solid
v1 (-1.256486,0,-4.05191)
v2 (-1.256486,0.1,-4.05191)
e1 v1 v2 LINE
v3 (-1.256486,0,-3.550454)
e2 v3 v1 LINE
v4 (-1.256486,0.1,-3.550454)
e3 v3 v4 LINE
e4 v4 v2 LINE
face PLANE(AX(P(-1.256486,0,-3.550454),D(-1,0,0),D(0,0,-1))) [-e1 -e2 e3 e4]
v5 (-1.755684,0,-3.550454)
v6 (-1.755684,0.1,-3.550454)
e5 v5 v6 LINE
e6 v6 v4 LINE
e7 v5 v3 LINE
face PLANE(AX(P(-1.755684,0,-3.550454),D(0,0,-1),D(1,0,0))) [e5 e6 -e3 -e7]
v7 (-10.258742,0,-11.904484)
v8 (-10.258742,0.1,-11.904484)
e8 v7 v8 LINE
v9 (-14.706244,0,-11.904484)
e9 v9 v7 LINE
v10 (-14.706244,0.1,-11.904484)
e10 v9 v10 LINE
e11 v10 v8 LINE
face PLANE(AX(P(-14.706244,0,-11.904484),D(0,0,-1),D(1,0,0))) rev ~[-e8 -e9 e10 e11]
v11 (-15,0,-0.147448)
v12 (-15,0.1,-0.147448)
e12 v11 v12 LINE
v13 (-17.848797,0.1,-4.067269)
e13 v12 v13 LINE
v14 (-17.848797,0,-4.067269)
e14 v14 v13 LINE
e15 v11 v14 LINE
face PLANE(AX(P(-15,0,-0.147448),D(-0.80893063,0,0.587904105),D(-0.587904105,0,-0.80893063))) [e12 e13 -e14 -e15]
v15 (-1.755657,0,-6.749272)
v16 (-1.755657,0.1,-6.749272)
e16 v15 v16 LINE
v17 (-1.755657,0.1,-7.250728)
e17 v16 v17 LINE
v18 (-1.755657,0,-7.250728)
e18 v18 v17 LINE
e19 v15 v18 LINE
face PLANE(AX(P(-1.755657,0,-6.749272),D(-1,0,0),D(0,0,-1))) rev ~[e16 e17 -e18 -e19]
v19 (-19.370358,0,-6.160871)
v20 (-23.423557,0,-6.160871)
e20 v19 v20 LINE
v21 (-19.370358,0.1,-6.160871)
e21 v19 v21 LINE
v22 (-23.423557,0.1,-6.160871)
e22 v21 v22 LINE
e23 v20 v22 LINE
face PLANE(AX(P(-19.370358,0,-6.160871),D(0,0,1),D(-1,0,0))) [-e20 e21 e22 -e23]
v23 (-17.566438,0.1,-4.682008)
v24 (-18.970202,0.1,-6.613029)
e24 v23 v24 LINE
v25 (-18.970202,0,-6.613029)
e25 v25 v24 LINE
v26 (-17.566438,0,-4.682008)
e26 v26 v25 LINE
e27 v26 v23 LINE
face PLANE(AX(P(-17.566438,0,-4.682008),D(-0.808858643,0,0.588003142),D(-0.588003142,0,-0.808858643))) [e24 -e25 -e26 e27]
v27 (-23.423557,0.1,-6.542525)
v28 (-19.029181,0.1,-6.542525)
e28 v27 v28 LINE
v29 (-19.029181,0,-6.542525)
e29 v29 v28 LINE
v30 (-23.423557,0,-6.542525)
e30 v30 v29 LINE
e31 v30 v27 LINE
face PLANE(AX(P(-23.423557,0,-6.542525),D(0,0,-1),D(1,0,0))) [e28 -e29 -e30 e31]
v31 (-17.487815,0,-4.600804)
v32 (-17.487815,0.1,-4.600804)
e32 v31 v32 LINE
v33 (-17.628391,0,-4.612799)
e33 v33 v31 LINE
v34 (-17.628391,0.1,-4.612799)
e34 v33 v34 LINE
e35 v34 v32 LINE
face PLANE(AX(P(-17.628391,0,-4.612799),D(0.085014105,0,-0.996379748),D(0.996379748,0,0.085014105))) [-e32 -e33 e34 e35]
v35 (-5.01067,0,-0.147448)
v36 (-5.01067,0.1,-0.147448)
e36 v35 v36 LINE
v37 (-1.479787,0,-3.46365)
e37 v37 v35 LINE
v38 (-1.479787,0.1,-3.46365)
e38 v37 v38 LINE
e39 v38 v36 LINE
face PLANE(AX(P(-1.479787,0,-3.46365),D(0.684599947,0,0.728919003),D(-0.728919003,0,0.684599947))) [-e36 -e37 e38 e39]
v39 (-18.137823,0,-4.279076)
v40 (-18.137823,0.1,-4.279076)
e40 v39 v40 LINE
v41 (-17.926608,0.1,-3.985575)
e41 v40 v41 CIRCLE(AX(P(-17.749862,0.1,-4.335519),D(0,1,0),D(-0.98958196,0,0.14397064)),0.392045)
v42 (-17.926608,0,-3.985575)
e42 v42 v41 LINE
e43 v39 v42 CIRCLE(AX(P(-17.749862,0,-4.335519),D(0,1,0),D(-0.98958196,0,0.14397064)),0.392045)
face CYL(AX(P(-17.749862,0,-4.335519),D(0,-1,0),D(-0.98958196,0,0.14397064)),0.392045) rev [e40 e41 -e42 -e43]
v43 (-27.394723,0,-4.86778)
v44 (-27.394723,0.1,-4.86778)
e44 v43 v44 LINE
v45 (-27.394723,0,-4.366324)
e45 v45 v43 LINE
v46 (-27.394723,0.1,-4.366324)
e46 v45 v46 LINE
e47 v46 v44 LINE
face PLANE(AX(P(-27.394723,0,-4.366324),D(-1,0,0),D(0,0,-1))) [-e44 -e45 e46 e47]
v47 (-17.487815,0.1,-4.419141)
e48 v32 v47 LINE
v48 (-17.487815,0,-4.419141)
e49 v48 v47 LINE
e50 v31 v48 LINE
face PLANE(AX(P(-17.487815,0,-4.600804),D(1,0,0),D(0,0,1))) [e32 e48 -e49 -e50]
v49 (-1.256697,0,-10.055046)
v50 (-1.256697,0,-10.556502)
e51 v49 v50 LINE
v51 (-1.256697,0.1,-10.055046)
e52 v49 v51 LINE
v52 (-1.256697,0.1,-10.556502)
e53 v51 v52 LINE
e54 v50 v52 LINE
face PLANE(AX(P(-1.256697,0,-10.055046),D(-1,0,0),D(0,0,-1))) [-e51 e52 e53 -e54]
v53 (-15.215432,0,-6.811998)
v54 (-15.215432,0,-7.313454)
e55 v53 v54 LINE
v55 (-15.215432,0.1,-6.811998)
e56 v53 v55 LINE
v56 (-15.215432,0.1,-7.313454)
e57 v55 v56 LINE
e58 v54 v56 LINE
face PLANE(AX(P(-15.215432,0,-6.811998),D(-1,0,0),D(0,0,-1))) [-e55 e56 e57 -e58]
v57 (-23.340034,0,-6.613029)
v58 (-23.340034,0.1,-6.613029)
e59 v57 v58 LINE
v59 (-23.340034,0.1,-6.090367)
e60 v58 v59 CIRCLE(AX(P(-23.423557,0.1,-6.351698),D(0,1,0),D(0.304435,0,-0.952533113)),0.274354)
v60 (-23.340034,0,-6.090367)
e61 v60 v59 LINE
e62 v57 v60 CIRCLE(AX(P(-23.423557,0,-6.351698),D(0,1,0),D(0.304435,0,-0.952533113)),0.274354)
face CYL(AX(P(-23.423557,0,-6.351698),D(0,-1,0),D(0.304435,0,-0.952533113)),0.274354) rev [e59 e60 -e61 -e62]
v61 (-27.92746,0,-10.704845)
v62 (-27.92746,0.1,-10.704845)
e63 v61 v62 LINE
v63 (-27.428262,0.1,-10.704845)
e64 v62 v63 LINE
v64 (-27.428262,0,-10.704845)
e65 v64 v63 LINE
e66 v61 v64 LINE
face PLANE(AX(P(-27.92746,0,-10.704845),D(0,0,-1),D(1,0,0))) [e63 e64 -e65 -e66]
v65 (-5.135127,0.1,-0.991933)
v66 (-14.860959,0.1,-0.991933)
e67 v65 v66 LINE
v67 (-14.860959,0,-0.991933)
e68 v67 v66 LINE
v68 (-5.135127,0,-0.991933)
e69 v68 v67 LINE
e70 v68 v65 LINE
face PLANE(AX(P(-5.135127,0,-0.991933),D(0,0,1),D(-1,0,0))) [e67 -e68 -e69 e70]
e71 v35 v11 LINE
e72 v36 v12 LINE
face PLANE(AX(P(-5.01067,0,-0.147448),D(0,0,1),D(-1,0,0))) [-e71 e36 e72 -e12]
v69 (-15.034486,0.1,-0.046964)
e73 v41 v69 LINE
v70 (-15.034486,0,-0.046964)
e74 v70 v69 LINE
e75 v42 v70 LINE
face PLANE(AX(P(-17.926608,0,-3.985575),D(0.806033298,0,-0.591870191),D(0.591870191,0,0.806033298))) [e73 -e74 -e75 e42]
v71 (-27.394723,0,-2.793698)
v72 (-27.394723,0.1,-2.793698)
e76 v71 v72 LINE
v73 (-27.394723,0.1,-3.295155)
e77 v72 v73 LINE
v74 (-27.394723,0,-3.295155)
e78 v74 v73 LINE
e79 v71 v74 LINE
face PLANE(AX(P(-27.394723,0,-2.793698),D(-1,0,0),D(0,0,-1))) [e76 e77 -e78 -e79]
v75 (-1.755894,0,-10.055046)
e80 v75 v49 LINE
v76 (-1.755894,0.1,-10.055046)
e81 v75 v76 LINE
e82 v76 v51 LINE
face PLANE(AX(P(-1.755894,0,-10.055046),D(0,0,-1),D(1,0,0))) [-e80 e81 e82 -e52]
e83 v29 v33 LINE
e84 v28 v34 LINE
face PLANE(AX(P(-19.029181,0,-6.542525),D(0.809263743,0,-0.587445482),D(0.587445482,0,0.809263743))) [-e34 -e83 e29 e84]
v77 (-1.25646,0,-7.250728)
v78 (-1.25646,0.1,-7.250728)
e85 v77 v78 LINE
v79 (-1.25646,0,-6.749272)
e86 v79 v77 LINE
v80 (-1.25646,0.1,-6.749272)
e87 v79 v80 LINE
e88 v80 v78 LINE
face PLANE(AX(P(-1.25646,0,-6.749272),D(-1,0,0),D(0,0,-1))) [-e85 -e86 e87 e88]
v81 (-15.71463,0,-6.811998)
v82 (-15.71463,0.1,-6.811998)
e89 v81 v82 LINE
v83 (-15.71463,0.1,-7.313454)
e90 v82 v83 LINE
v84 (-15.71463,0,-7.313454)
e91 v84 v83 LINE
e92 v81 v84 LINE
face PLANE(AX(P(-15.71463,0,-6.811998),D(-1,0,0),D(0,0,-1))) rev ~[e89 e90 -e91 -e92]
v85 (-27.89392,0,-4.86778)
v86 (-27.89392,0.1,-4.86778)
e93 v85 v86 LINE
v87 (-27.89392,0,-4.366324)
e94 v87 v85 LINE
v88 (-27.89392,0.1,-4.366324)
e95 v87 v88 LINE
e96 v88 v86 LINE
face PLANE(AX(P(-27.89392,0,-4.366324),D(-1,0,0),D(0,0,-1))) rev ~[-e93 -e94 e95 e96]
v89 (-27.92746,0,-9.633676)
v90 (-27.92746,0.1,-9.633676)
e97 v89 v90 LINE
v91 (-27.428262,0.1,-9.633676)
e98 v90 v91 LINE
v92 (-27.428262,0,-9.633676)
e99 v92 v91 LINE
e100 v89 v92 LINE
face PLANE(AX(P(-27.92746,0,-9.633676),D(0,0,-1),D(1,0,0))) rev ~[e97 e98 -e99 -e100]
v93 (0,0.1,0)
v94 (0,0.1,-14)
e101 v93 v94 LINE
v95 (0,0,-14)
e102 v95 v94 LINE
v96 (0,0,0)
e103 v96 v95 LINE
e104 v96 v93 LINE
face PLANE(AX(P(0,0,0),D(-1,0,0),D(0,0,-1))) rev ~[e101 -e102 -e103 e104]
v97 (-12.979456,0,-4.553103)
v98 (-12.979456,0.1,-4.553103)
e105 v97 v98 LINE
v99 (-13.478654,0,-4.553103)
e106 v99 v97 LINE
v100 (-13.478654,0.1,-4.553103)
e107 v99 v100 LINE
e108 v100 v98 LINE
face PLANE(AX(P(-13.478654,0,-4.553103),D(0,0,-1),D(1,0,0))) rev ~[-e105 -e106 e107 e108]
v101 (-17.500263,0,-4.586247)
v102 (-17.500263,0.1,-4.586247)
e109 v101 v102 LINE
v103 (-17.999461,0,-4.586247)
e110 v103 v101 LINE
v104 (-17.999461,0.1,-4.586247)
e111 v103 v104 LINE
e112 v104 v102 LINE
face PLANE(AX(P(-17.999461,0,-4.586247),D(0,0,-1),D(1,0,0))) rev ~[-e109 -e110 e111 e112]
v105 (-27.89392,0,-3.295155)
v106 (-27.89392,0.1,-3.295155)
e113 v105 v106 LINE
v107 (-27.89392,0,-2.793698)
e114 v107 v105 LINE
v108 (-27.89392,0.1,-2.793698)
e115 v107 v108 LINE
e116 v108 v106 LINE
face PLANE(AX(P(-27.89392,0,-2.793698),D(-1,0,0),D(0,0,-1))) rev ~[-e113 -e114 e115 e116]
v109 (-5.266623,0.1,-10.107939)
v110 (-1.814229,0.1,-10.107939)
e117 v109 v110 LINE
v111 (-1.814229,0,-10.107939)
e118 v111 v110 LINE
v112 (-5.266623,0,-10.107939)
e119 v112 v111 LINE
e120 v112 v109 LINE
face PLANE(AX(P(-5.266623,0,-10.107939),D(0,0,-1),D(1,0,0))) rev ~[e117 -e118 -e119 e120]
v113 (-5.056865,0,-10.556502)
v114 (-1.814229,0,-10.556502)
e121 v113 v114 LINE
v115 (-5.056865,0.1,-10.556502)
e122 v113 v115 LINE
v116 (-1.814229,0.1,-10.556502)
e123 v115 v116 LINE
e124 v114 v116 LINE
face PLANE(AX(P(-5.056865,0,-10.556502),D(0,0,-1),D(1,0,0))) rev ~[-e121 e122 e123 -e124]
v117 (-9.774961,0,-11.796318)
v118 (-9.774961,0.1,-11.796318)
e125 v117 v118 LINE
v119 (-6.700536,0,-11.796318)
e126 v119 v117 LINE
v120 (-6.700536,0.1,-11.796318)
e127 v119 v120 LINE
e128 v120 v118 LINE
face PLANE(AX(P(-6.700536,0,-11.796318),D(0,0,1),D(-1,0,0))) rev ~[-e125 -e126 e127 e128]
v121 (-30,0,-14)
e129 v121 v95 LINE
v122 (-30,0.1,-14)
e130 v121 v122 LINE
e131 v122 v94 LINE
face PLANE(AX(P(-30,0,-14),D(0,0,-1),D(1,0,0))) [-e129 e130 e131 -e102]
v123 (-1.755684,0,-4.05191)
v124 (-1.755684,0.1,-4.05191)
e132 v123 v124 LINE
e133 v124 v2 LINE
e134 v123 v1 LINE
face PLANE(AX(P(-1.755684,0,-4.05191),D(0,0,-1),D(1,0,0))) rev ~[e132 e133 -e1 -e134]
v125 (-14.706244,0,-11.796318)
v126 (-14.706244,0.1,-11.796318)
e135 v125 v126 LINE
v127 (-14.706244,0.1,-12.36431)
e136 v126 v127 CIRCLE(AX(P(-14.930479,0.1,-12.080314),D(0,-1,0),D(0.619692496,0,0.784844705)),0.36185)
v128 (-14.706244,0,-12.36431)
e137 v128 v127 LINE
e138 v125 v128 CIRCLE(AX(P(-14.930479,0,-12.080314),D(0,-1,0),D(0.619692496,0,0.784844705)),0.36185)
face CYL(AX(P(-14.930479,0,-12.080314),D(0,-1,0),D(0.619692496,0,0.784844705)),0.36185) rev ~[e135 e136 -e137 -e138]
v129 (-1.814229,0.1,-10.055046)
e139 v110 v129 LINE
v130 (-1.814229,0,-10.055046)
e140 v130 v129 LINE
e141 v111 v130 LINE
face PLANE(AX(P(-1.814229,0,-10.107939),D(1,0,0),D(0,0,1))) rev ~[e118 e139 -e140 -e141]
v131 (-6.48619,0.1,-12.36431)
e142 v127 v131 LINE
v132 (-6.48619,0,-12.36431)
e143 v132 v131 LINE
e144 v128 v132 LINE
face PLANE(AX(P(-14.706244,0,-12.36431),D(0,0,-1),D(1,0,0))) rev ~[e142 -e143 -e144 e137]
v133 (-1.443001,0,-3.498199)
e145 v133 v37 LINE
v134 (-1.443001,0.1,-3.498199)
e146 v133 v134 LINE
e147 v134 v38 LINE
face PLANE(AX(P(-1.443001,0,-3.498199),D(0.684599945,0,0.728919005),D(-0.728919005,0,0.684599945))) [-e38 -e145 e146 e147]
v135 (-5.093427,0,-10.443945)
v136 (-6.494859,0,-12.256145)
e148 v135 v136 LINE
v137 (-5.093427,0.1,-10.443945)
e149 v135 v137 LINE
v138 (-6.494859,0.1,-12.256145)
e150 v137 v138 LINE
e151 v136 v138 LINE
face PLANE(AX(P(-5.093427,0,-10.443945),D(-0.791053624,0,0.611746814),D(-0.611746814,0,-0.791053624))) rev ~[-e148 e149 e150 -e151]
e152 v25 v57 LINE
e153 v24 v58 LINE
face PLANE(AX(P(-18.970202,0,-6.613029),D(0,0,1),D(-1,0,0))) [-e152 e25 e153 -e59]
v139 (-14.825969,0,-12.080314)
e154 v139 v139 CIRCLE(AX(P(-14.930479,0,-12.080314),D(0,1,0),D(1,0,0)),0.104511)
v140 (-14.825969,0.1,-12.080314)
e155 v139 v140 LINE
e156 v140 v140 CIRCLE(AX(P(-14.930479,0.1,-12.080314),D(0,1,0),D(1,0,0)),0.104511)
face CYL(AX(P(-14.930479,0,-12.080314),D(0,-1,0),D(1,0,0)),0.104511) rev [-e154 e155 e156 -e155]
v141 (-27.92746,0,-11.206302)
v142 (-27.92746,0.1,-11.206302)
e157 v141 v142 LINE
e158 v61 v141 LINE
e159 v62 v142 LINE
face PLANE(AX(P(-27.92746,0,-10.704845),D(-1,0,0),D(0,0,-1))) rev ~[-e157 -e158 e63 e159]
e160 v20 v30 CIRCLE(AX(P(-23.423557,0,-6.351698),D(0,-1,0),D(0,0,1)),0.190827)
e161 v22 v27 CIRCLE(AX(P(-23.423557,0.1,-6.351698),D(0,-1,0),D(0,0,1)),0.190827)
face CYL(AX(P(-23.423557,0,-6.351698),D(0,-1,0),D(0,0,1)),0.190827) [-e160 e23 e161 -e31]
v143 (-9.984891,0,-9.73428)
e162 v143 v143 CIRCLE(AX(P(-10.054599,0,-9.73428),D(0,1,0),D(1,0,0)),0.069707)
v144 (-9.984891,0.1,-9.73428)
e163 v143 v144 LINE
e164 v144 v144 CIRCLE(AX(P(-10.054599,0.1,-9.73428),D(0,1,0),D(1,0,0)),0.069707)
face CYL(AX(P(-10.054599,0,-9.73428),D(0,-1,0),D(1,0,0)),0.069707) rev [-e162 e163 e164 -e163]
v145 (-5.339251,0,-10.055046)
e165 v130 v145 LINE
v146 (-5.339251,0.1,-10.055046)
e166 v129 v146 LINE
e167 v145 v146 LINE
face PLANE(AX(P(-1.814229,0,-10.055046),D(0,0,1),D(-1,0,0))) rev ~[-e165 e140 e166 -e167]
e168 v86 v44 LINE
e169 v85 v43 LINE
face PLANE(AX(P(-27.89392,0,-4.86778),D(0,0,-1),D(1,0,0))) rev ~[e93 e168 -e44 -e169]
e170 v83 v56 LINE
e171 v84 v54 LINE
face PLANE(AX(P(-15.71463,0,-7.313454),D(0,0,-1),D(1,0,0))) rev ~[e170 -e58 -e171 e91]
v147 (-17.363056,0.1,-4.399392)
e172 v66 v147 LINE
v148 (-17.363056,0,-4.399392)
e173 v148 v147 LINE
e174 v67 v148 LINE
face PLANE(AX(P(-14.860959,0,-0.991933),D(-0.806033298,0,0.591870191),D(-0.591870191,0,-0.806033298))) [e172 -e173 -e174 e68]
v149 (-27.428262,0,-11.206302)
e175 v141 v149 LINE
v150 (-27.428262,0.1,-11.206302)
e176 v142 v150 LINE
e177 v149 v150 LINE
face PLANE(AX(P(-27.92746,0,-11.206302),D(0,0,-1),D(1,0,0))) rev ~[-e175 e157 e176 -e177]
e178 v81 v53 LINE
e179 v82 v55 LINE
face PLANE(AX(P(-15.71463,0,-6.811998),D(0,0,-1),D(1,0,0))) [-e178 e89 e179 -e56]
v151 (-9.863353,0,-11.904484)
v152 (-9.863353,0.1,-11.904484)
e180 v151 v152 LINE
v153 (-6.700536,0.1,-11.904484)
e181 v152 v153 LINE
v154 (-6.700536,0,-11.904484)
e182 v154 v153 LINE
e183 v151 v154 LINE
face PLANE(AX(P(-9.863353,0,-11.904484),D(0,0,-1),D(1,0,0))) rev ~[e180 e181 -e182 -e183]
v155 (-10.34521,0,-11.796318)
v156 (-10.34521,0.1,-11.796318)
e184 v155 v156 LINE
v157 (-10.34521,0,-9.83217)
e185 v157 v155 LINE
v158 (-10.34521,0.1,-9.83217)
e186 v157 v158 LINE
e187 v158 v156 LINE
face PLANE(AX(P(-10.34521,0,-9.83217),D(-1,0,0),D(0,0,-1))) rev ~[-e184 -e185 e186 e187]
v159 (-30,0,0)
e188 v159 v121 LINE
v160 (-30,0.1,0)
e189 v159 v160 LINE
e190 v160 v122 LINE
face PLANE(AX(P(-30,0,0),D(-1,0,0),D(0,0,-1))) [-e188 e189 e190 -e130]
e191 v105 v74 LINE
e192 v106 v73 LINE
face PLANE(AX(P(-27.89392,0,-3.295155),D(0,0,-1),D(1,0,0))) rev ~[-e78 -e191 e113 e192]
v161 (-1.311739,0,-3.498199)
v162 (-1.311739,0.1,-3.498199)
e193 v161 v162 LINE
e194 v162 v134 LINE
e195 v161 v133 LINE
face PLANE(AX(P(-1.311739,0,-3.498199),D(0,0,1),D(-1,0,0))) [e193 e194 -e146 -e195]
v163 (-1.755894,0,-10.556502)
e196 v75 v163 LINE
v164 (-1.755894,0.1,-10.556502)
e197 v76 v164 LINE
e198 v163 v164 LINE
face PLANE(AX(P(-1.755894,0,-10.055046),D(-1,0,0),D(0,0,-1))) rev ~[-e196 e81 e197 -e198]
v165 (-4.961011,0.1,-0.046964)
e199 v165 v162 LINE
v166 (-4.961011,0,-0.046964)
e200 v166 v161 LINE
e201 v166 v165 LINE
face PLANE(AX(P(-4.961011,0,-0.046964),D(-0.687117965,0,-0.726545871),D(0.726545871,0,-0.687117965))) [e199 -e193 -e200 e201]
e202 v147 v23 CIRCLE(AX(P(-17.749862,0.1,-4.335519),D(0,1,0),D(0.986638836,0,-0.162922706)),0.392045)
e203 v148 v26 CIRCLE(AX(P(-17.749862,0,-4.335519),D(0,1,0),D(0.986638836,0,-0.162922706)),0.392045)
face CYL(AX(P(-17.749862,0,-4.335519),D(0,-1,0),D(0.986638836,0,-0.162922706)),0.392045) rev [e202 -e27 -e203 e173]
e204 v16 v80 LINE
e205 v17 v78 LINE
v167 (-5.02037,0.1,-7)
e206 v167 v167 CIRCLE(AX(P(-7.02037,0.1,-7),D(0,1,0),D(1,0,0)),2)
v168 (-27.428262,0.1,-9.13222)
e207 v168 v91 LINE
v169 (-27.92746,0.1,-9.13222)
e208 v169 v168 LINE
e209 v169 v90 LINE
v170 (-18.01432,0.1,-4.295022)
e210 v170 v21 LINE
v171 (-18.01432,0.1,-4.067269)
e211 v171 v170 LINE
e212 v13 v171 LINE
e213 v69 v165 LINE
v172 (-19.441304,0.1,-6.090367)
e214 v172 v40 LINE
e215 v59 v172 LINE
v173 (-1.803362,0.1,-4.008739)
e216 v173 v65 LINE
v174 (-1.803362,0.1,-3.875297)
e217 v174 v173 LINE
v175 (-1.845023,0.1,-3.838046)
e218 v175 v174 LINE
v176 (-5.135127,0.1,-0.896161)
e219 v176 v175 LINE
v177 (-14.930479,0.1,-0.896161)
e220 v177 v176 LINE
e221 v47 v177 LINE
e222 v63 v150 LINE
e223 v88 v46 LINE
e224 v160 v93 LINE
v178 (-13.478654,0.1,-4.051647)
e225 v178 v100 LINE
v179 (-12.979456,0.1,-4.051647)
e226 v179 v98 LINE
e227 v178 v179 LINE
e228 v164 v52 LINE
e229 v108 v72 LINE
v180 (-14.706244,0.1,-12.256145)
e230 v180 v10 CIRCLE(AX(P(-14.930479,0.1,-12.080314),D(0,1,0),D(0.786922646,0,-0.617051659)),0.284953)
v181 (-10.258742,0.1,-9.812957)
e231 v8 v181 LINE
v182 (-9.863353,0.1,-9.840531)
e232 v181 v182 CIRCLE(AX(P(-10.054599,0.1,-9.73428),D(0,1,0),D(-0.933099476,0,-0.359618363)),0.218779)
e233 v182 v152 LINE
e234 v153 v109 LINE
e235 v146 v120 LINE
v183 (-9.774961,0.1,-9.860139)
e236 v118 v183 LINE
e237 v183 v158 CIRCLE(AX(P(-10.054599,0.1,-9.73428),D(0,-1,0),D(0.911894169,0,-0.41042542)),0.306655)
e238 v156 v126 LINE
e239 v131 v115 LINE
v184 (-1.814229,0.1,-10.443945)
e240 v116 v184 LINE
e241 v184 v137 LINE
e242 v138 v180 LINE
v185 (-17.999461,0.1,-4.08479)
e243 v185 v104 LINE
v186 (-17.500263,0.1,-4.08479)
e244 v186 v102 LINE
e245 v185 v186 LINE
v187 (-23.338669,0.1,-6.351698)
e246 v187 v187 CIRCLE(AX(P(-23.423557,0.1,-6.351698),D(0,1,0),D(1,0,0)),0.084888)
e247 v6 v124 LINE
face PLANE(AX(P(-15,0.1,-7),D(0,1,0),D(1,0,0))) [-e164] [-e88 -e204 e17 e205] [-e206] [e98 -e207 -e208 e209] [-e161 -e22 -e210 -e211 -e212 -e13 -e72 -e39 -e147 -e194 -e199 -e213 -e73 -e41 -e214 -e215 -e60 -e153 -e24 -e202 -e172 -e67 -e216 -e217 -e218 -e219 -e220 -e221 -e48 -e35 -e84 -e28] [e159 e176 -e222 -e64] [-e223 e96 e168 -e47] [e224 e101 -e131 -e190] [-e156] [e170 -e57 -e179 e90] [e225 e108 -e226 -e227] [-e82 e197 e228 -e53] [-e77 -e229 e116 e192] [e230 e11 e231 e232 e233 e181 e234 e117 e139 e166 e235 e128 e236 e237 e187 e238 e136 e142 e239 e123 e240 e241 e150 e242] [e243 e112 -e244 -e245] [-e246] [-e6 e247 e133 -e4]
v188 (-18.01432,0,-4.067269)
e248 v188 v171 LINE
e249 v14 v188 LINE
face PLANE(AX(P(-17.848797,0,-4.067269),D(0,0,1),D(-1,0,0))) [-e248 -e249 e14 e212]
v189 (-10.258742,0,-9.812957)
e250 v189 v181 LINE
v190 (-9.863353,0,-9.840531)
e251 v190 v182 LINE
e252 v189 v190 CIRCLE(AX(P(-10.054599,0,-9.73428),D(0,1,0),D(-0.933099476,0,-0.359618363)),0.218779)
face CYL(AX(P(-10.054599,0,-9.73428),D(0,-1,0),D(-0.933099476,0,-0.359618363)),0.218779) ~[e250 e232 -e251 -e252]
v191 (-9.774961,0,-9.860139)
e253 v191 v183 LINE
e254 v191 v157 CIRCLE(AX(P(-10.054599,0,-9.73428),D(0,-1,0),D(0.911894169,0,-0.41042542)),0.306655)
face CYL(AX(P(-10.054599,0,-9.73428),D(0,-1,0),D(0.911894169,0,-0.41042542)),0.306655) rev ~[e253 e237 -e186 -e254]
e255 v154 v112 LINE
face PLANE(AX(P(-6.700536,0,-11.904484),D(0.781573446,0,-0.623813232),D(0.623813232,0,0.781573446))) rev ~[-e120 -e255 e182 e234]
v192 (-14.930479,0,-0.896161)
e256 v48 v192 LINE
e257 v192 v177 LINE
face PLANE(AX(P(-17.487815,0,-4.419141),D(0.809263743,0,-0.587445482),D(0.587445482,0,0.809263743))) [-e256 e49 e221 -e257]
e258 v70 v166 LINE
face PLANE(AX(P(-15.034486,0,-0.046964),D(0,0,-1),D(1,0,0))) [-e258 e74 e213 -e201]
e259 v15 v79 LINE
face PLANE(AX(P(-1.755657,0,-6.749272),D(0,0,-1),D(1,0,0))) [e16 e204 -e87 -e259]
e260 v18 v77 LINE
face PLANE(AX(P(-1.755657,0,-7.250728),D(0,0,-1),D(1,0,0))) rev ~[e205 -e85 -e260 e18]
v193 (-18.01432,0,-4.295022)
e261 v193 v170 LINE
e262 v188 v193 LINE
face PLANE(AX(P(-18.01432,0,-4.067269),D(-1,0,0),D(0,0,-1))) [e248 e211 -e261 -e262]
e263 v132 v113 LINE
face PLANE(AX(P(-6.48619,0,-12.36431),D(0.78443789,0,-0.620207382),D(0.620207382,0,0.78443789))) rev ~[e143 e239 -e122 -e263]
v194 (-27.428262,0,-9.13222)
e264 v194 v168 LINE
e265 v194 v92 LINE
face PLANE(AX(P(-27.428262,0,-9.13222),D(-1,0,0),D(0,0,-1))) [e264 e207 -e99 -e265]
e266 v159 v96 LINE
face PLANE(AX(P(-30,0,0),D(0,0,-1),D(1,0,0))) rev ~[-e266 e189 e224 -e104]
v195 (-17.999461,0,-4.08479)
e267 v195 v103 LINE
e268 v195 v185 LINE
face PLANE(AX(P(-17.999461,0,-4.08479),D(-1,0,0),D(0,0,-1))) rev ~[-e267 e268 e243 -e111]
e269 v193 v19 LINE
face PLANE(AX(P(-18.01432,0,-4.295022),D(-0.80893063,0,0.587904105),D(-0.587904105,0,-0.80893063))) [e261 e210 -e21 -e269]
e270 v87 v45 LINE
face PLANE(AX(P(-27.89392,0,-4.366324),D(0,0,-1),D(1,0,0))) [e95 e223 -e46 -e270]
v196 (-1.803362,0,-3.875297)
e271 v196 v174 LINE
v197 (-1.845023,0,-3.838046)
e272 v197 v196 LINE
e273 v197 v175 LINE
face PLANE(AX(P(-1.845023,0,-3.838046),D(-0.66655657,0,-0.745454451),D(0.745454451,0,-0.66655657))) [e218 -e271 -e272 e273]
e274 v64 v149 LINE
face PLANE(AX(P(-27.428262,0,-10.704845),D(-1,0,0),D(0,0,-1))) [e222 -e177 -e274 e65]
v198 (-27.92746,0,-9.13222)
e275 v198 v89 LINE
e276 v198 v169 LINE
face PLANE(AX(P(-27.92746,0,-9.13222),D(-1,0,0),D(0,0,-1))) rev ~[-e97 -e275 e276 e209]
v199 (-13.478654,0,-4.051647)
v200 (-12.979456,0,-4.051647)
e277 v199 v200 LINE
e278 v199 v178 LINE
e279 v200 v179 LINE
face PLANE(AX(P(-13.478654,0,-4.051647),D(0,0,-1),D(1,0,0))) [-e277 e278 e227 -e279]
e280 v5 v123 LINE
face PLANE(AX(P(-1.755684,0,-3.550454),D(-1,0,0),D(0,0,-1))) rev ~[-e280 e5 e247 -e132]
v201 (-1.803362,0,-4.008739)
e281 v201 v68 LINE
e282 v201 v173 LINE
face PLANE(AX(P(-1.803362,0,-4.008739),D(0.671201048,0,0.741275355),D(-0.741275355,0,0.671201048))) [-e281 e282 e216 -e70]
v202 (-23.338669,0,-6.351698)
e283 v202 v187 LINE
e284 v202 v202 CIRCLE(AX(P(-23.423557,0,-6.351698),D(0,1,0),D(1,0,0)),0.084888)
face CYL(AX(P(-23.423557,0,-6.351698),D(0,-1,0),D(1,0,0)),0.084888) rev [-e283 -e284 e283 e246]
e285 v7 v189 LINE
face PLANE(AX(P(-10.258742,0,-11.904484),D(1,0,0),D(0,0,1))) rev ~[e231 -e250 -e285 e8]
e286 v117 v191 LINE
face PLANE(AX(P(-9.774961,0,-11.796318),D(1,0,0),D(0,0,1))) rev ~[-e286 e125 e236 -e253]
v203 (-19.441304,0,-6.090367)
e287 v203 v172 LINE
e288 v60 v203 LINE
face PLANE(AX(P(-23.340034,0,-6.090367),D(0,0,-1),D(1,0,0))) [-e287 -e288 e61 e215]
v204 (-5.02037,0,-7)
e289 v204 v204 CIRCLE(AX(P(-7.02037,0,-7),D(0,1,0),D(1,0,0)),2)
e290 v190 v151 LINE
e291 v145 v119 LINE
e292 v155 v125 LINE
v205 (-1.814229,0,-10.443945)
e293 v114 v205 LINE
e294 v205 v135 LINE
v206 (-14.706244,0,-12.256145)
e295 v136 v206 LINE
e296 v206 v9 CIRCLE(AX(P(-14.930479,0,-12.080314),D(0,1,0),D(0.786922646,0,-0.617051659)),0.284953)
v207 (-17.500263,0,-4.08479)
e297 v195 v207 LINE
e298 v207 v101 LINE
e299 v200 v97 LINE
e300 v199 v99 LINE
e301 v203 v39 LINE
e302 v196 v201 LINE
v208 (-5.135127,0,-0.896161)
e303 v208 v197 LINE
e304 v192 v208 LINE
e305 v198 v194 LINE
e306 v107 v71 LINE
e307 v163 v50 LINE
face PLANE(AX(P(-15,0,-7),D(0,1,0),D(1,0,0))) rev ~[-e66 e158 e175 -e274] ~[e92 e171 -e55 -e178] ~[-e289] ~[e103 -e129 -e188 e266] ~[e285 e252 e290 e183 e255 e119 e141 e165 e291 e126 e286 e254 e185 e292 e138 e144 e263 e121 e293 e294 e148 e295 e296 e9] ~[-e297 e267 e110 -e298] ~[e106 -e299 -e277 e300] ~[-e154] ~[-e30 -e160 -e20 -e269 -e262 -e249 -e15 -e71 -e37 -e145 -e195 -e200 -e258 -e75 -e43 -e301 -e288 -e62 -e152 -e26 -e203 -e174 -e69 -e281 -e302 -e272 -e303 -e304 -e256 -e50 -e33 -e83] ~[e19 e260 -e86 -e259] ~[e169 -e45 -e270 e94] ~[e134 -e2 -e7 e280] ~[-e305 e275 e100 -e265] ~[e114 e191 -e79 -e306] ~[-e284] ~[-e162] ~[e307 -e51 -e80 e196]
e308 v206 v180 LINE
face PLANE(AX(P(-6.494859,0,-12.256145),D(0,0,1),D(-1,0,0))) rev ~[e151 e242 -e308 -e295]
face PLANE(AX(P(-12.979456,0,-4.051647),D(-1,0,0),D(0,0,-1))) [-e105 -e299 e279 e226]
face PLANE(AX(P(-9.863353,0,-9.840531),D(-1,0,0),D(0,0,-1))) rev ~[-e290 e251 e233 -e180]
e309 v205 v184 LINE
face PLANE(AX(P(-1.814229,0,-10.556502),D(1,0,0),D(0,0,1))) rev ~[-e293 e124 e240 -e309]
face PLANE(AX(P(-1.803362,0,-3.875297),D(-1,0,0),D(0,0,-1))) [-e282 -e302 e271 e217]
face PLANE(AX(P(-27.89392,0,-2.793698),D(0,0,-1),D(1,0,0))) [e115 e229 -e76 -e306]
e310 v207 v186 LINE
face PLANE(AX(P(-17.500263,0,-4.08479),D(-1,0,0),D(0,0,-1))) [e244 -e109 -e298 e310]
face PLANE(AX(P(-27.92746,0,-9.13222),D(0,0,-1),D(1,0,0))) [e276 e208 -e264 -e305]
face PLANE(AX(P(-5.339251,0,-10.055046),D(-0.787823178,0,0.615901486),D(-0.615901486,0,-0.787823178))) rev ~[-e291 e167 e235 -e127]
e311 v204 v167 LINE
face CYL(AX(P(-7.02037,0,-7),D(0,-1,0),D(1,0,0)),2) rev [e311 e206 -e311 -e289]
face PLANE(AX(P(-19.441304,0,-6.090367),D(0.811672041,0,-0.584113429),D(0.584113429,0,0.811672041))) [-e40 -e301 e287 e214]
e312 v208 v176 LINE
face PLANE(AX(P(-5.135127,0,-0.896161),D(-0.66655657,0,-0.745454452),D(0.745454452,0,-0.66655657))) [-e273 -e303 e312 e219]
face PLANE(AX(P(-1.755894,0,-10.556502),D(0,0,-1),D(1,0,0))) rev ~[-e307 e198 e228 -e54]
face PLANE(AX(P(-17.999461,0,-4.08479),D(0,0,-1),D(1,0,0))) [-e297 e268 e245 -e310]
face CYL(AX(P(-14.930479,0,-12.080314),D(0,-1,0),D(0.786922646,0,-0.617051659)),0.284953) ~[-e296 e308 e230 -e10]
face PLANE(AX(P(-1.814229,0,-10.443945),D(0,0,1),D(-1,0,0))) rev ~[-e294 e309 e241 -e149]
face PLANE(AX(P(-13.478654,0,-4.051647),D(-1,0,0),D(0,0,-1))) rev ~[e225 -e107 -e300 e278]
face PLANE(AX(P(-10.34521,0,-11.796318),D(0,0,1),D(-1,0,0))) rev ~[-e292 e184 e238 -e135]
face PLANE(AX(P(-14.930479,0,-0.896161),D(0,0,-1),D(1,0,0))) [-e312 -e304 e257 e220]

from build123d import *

# Parameters (mm, degrees)
SKETCH1_W           = 30
SKETCH1_H           = 14
SKETCH1_R           = 2
SKETCH1_R_2         = 0.069707308
SKETCH1_R_3         = 0.104510519
SKETCH1_R_4         = 0.084887638
SKETCH1_W_2         = 0.499197809
SKETCH1_H_2         = 0.501456342
SKETCH1_H_3         = 0.501456343
BOSS_EXTRUDE2_DEPTH = 0.1


with BuildPart() as part:
    # Sketch1 → Boss-Extrude2 (new body)
    with BuildSketch(Plane(origin=(0, 0, 0), x_dir=(1, 0, 0), z_dir=(0, 1, 0))):
        with Locations((-15, 7)):
            Rectangle(SKETCH1_W, SKETCH1_H)
        with Locations((-7.020370045, 7)):
            Circle(SKETCH1_R, mode=Mode.SUBTRACT)
        with Locations((-10.054598749, 9.734280097)):
            Circle(SKETCH1_R_2, mode=Mode.SUBTRACT)
        with Locations((-14.930479438, 12.0803142)):
            Circle(SKETCH1_R_3, mode=Mode.SUBTRACT)
        with Locations((-23.42355671, 6.351698017)):
            Circle(SKETCH1_R_4, mode=Mode.SUBTRACT)
        with Locations((-1.506295526, 10.305773891)):
            Rectangle(SKETCH1_W_2, SKETCH1_H_2, mode=Mode.SUBTRACT)
        with Locations((-1.506058557, 7)):
            Rectangle(SKETCH1_W_2, SKETCH1_H_2, mode=Mode.SUBTRACT)
        with BuildLine():
            Line((-4.96101097, 0.046964473), (-1.31173915, 3.49819904))
            Line((-1.31173915, 3.49819904), (-1.443001106, 3.49819904))
            Line((-1.443001106, 3.49819904), (-1.479787132, 3.463649644))
            Line((-1.479787132, 3.463649644), (-5.010670338, 0.147447917))
            Line((-5.010670338, 0.147447917), (-15, 0.147447917))
            Line((-15, 0.147447917), (-17.848796521, 4.06726876))
            Line((-17.848796521, 4.06726876), (-18.014319727, 4.06726876))
            Line((-18.014319727, 4.06726876), (-18.014319727, 4.295021535))
            Line((-18.014319727, 4.295021535), (-19.370357537, 6.160870932))
            Line((-19.370357537, 6.160870932), (-23.42355671, 6.160870932))
            ThreePointArc((-23.42355671, 6.160870932), (-23.614383795, 6.351698017), (-23.42355671, 6.542525102))
            Line((-23.42355671, 6.542525102), (-19.029181473, 6.542525102))
            Line((-19.029181473, 6.542525102), (-17.62839076, 4.612798563))
            Line((-17.62839076, 4.612798563), (-17.487814555, 4.60080418))
            Line((-17.487814555, 4.60080418), (-17.487814555, 4.419141059))
            Line((-17.487814555, 4.419141059), (-14.930479438, 0.896161218))
            Line((-14.930479438, 0.896161218), (-5.135127124, 0.896161218))
            Line((-5.135127124, 0.896161218), (-1.84502254, 3.838045622))
            Line((-1.84502254, 3.838045622), (-1.803361628, 3.8752972))
            Line((-1.803361628, 3.8752972), (-1.803361628, 4.008739354))
            Line((-1.803361628, 4.008739354), (-5.135127124, 0.991932607))
            Line((-5.135127124, 0.991932607), (-14.860958876, 0.991932607))
            Line((-14.860958876, 0.991932607), (-17.363055734, 4.399391562))
            ThreePointArc((-17.363055734, 4.399391562), (-17.431650559, 4.564517202), (-17.566438216, 4.682007688))
            Line((-17.566438216, 4.682007688), (-18.970202274, 6.613029158))
            Line((-18.970202274, 6.613029158), (-23.340033791, 6.613029158))
            ThreePointArc((-23.340033791, 6.613029158), (-23.697910575, 6.351698017), (-23.340033791, 6.090366876))
            Line((-23.340033791, 6.090366876), (-19.441304426, 6.090366876))
            Line((-19.441304426, 6.090366876), (-18.137822853, 4.279075615))
            ThreePointArc((-18.137822853, 4.279075615), (-18.068074192, 4.106519917), (-17.926607711, 3.985575386))
            Line((-17.926607711, 3.985575386), (-15.034486009, 0.046964473))
            Line((-15.034486009, 0.046964473), (-4.96101097, 0.046964473))
        make_face(mode=Mode.SUBTRACT)
        with Locations((-1.506084597, 3.801182197)):
            Rectangle(SKETCH1_W_2, SKETCH1_H_2, mode=Mode.SUBTRACT)
        with BuildLine():
            Line((-7.144578994, 12.364310321), (-6.486189519, 12.364310321))
            Line((-6.486189519, 12.364310321), (-5.05686536, 10.556502062))
            Line((-5.05686536, 10.556502062), (-1.814229317, 10.556502062))
            Line((-1.814229317, 10.556502062), (-1.814229317, 10.443944973))
            Line((-1.814229317, 10.443944973), (-5.093427141, 10.443944973))
            Line((-5.093427141, 10.443944973), (-6.494858626, 12.256144774))
            Line((-6.494858626, 12.256144774), (-14.706243657, 12.256144774))
            ThreePointArc((-14.706243657, 12.256144774), (-15.215432199, 12.0803142), (-14.706243657, 11.904483626))
            Line((-14.706243657, 11.904483626), (-10.258741579, 11.904483626))
            Line((-10.258741579, 11.904483626), (-10.258741579, 9.812957143))
            ThreePointArc((-10.258741579, 9.812957143), (-10.03937832, 9.516030903), (-9.863352573, 9.840531084))
            Line((-9.863352573, 9.840531084), (-9.863352573, 11.904483626))
            Line((-9.863352573, 11.904483626), (-6.700536123, 11.904483626))
            Line((-6.700536123, 11.904483626), (-5.266623049, 10.107938883))
            Line((-5.266623049, 10.107938883), (-1.814229317, 10.107938883))
            Line((-1.814229317, 10.107938883), (-1.814229317, 10.05504572))
            Line((-1.814229317, 10.05504572), (-5.339250668, 10.05504572))
            Line((-5.339250668, 10.05504572), (-6.700536123, 11.796318079))
            Line((-6.700536123, 11.796318079), (-9.774961406, 11.796318079))
            Line((-9.774961406, 11.796318079), (-9.774961406, 9.860139301))
            ThreePointArc((-9.774961406, 9.860139301), (-10.039576048, 9.427992811), (-10.345210476, 9.83216987))
            Line((-10.345210476, 9.83216987), (-10.345210476, 11.796318079))
            Line((-10.345210476, 11.796318079), (-14.706243657, 11.796318079))
            ThreePointArc((-14.706243657, 11.796318079), (-15.29232952, 12.0803142), (-14.706243657, 12.364310321))
            Line((-14.706243657, 12.364310321), (-7.144578994, 12.364310321))
        make_face(mode=Mode.SUBTRACT)
        with Locations((-17.749862376, 4.33551856)):
            Rectangle(SKETCH1_W_2, SKETCH1_H_3, mode=Mode.SUBTRACT)
        with Locations((-13.229055218, 4.302374896)):
            Rectangle(SKETCH1_W_2, SKETCH1_H_2, mode=Mode.SUBTRACT)
        with Locations((-15.465031103, 7.062725803)):
            Rectangle(SKETCH1_W_2, SKETCH1_H_2, mode=Mode.SUBTRACT)
        with Locations((-27.644321584, 3.044426332)):
            Rectangle(SKETCH1_W_2, SKETCH1_H_3, mode=Mode.SUBTRACT)
        with Locations((-27.644321584, 4.617052121)):
            Rectangle(SKETCH1_W_2, SKETCH1_H_2, mode=Mode.SUBTRACT)
        with Locations((-27.677861275, 9.382947879)):
            Rectangle(SKETCH1_W_2, SKETCH1_H_2, mode=Mode.SUBTRACT)
        with Locations((-27.677861275, 10.955573669)):
            Rectangle(SKETCH1_W_2, SKETCH1_H_3, mode=Mode.SUBTRACT)
    extrude(amount=BOSS_EXTRUDE2_DEPTH)


solid = part.part
